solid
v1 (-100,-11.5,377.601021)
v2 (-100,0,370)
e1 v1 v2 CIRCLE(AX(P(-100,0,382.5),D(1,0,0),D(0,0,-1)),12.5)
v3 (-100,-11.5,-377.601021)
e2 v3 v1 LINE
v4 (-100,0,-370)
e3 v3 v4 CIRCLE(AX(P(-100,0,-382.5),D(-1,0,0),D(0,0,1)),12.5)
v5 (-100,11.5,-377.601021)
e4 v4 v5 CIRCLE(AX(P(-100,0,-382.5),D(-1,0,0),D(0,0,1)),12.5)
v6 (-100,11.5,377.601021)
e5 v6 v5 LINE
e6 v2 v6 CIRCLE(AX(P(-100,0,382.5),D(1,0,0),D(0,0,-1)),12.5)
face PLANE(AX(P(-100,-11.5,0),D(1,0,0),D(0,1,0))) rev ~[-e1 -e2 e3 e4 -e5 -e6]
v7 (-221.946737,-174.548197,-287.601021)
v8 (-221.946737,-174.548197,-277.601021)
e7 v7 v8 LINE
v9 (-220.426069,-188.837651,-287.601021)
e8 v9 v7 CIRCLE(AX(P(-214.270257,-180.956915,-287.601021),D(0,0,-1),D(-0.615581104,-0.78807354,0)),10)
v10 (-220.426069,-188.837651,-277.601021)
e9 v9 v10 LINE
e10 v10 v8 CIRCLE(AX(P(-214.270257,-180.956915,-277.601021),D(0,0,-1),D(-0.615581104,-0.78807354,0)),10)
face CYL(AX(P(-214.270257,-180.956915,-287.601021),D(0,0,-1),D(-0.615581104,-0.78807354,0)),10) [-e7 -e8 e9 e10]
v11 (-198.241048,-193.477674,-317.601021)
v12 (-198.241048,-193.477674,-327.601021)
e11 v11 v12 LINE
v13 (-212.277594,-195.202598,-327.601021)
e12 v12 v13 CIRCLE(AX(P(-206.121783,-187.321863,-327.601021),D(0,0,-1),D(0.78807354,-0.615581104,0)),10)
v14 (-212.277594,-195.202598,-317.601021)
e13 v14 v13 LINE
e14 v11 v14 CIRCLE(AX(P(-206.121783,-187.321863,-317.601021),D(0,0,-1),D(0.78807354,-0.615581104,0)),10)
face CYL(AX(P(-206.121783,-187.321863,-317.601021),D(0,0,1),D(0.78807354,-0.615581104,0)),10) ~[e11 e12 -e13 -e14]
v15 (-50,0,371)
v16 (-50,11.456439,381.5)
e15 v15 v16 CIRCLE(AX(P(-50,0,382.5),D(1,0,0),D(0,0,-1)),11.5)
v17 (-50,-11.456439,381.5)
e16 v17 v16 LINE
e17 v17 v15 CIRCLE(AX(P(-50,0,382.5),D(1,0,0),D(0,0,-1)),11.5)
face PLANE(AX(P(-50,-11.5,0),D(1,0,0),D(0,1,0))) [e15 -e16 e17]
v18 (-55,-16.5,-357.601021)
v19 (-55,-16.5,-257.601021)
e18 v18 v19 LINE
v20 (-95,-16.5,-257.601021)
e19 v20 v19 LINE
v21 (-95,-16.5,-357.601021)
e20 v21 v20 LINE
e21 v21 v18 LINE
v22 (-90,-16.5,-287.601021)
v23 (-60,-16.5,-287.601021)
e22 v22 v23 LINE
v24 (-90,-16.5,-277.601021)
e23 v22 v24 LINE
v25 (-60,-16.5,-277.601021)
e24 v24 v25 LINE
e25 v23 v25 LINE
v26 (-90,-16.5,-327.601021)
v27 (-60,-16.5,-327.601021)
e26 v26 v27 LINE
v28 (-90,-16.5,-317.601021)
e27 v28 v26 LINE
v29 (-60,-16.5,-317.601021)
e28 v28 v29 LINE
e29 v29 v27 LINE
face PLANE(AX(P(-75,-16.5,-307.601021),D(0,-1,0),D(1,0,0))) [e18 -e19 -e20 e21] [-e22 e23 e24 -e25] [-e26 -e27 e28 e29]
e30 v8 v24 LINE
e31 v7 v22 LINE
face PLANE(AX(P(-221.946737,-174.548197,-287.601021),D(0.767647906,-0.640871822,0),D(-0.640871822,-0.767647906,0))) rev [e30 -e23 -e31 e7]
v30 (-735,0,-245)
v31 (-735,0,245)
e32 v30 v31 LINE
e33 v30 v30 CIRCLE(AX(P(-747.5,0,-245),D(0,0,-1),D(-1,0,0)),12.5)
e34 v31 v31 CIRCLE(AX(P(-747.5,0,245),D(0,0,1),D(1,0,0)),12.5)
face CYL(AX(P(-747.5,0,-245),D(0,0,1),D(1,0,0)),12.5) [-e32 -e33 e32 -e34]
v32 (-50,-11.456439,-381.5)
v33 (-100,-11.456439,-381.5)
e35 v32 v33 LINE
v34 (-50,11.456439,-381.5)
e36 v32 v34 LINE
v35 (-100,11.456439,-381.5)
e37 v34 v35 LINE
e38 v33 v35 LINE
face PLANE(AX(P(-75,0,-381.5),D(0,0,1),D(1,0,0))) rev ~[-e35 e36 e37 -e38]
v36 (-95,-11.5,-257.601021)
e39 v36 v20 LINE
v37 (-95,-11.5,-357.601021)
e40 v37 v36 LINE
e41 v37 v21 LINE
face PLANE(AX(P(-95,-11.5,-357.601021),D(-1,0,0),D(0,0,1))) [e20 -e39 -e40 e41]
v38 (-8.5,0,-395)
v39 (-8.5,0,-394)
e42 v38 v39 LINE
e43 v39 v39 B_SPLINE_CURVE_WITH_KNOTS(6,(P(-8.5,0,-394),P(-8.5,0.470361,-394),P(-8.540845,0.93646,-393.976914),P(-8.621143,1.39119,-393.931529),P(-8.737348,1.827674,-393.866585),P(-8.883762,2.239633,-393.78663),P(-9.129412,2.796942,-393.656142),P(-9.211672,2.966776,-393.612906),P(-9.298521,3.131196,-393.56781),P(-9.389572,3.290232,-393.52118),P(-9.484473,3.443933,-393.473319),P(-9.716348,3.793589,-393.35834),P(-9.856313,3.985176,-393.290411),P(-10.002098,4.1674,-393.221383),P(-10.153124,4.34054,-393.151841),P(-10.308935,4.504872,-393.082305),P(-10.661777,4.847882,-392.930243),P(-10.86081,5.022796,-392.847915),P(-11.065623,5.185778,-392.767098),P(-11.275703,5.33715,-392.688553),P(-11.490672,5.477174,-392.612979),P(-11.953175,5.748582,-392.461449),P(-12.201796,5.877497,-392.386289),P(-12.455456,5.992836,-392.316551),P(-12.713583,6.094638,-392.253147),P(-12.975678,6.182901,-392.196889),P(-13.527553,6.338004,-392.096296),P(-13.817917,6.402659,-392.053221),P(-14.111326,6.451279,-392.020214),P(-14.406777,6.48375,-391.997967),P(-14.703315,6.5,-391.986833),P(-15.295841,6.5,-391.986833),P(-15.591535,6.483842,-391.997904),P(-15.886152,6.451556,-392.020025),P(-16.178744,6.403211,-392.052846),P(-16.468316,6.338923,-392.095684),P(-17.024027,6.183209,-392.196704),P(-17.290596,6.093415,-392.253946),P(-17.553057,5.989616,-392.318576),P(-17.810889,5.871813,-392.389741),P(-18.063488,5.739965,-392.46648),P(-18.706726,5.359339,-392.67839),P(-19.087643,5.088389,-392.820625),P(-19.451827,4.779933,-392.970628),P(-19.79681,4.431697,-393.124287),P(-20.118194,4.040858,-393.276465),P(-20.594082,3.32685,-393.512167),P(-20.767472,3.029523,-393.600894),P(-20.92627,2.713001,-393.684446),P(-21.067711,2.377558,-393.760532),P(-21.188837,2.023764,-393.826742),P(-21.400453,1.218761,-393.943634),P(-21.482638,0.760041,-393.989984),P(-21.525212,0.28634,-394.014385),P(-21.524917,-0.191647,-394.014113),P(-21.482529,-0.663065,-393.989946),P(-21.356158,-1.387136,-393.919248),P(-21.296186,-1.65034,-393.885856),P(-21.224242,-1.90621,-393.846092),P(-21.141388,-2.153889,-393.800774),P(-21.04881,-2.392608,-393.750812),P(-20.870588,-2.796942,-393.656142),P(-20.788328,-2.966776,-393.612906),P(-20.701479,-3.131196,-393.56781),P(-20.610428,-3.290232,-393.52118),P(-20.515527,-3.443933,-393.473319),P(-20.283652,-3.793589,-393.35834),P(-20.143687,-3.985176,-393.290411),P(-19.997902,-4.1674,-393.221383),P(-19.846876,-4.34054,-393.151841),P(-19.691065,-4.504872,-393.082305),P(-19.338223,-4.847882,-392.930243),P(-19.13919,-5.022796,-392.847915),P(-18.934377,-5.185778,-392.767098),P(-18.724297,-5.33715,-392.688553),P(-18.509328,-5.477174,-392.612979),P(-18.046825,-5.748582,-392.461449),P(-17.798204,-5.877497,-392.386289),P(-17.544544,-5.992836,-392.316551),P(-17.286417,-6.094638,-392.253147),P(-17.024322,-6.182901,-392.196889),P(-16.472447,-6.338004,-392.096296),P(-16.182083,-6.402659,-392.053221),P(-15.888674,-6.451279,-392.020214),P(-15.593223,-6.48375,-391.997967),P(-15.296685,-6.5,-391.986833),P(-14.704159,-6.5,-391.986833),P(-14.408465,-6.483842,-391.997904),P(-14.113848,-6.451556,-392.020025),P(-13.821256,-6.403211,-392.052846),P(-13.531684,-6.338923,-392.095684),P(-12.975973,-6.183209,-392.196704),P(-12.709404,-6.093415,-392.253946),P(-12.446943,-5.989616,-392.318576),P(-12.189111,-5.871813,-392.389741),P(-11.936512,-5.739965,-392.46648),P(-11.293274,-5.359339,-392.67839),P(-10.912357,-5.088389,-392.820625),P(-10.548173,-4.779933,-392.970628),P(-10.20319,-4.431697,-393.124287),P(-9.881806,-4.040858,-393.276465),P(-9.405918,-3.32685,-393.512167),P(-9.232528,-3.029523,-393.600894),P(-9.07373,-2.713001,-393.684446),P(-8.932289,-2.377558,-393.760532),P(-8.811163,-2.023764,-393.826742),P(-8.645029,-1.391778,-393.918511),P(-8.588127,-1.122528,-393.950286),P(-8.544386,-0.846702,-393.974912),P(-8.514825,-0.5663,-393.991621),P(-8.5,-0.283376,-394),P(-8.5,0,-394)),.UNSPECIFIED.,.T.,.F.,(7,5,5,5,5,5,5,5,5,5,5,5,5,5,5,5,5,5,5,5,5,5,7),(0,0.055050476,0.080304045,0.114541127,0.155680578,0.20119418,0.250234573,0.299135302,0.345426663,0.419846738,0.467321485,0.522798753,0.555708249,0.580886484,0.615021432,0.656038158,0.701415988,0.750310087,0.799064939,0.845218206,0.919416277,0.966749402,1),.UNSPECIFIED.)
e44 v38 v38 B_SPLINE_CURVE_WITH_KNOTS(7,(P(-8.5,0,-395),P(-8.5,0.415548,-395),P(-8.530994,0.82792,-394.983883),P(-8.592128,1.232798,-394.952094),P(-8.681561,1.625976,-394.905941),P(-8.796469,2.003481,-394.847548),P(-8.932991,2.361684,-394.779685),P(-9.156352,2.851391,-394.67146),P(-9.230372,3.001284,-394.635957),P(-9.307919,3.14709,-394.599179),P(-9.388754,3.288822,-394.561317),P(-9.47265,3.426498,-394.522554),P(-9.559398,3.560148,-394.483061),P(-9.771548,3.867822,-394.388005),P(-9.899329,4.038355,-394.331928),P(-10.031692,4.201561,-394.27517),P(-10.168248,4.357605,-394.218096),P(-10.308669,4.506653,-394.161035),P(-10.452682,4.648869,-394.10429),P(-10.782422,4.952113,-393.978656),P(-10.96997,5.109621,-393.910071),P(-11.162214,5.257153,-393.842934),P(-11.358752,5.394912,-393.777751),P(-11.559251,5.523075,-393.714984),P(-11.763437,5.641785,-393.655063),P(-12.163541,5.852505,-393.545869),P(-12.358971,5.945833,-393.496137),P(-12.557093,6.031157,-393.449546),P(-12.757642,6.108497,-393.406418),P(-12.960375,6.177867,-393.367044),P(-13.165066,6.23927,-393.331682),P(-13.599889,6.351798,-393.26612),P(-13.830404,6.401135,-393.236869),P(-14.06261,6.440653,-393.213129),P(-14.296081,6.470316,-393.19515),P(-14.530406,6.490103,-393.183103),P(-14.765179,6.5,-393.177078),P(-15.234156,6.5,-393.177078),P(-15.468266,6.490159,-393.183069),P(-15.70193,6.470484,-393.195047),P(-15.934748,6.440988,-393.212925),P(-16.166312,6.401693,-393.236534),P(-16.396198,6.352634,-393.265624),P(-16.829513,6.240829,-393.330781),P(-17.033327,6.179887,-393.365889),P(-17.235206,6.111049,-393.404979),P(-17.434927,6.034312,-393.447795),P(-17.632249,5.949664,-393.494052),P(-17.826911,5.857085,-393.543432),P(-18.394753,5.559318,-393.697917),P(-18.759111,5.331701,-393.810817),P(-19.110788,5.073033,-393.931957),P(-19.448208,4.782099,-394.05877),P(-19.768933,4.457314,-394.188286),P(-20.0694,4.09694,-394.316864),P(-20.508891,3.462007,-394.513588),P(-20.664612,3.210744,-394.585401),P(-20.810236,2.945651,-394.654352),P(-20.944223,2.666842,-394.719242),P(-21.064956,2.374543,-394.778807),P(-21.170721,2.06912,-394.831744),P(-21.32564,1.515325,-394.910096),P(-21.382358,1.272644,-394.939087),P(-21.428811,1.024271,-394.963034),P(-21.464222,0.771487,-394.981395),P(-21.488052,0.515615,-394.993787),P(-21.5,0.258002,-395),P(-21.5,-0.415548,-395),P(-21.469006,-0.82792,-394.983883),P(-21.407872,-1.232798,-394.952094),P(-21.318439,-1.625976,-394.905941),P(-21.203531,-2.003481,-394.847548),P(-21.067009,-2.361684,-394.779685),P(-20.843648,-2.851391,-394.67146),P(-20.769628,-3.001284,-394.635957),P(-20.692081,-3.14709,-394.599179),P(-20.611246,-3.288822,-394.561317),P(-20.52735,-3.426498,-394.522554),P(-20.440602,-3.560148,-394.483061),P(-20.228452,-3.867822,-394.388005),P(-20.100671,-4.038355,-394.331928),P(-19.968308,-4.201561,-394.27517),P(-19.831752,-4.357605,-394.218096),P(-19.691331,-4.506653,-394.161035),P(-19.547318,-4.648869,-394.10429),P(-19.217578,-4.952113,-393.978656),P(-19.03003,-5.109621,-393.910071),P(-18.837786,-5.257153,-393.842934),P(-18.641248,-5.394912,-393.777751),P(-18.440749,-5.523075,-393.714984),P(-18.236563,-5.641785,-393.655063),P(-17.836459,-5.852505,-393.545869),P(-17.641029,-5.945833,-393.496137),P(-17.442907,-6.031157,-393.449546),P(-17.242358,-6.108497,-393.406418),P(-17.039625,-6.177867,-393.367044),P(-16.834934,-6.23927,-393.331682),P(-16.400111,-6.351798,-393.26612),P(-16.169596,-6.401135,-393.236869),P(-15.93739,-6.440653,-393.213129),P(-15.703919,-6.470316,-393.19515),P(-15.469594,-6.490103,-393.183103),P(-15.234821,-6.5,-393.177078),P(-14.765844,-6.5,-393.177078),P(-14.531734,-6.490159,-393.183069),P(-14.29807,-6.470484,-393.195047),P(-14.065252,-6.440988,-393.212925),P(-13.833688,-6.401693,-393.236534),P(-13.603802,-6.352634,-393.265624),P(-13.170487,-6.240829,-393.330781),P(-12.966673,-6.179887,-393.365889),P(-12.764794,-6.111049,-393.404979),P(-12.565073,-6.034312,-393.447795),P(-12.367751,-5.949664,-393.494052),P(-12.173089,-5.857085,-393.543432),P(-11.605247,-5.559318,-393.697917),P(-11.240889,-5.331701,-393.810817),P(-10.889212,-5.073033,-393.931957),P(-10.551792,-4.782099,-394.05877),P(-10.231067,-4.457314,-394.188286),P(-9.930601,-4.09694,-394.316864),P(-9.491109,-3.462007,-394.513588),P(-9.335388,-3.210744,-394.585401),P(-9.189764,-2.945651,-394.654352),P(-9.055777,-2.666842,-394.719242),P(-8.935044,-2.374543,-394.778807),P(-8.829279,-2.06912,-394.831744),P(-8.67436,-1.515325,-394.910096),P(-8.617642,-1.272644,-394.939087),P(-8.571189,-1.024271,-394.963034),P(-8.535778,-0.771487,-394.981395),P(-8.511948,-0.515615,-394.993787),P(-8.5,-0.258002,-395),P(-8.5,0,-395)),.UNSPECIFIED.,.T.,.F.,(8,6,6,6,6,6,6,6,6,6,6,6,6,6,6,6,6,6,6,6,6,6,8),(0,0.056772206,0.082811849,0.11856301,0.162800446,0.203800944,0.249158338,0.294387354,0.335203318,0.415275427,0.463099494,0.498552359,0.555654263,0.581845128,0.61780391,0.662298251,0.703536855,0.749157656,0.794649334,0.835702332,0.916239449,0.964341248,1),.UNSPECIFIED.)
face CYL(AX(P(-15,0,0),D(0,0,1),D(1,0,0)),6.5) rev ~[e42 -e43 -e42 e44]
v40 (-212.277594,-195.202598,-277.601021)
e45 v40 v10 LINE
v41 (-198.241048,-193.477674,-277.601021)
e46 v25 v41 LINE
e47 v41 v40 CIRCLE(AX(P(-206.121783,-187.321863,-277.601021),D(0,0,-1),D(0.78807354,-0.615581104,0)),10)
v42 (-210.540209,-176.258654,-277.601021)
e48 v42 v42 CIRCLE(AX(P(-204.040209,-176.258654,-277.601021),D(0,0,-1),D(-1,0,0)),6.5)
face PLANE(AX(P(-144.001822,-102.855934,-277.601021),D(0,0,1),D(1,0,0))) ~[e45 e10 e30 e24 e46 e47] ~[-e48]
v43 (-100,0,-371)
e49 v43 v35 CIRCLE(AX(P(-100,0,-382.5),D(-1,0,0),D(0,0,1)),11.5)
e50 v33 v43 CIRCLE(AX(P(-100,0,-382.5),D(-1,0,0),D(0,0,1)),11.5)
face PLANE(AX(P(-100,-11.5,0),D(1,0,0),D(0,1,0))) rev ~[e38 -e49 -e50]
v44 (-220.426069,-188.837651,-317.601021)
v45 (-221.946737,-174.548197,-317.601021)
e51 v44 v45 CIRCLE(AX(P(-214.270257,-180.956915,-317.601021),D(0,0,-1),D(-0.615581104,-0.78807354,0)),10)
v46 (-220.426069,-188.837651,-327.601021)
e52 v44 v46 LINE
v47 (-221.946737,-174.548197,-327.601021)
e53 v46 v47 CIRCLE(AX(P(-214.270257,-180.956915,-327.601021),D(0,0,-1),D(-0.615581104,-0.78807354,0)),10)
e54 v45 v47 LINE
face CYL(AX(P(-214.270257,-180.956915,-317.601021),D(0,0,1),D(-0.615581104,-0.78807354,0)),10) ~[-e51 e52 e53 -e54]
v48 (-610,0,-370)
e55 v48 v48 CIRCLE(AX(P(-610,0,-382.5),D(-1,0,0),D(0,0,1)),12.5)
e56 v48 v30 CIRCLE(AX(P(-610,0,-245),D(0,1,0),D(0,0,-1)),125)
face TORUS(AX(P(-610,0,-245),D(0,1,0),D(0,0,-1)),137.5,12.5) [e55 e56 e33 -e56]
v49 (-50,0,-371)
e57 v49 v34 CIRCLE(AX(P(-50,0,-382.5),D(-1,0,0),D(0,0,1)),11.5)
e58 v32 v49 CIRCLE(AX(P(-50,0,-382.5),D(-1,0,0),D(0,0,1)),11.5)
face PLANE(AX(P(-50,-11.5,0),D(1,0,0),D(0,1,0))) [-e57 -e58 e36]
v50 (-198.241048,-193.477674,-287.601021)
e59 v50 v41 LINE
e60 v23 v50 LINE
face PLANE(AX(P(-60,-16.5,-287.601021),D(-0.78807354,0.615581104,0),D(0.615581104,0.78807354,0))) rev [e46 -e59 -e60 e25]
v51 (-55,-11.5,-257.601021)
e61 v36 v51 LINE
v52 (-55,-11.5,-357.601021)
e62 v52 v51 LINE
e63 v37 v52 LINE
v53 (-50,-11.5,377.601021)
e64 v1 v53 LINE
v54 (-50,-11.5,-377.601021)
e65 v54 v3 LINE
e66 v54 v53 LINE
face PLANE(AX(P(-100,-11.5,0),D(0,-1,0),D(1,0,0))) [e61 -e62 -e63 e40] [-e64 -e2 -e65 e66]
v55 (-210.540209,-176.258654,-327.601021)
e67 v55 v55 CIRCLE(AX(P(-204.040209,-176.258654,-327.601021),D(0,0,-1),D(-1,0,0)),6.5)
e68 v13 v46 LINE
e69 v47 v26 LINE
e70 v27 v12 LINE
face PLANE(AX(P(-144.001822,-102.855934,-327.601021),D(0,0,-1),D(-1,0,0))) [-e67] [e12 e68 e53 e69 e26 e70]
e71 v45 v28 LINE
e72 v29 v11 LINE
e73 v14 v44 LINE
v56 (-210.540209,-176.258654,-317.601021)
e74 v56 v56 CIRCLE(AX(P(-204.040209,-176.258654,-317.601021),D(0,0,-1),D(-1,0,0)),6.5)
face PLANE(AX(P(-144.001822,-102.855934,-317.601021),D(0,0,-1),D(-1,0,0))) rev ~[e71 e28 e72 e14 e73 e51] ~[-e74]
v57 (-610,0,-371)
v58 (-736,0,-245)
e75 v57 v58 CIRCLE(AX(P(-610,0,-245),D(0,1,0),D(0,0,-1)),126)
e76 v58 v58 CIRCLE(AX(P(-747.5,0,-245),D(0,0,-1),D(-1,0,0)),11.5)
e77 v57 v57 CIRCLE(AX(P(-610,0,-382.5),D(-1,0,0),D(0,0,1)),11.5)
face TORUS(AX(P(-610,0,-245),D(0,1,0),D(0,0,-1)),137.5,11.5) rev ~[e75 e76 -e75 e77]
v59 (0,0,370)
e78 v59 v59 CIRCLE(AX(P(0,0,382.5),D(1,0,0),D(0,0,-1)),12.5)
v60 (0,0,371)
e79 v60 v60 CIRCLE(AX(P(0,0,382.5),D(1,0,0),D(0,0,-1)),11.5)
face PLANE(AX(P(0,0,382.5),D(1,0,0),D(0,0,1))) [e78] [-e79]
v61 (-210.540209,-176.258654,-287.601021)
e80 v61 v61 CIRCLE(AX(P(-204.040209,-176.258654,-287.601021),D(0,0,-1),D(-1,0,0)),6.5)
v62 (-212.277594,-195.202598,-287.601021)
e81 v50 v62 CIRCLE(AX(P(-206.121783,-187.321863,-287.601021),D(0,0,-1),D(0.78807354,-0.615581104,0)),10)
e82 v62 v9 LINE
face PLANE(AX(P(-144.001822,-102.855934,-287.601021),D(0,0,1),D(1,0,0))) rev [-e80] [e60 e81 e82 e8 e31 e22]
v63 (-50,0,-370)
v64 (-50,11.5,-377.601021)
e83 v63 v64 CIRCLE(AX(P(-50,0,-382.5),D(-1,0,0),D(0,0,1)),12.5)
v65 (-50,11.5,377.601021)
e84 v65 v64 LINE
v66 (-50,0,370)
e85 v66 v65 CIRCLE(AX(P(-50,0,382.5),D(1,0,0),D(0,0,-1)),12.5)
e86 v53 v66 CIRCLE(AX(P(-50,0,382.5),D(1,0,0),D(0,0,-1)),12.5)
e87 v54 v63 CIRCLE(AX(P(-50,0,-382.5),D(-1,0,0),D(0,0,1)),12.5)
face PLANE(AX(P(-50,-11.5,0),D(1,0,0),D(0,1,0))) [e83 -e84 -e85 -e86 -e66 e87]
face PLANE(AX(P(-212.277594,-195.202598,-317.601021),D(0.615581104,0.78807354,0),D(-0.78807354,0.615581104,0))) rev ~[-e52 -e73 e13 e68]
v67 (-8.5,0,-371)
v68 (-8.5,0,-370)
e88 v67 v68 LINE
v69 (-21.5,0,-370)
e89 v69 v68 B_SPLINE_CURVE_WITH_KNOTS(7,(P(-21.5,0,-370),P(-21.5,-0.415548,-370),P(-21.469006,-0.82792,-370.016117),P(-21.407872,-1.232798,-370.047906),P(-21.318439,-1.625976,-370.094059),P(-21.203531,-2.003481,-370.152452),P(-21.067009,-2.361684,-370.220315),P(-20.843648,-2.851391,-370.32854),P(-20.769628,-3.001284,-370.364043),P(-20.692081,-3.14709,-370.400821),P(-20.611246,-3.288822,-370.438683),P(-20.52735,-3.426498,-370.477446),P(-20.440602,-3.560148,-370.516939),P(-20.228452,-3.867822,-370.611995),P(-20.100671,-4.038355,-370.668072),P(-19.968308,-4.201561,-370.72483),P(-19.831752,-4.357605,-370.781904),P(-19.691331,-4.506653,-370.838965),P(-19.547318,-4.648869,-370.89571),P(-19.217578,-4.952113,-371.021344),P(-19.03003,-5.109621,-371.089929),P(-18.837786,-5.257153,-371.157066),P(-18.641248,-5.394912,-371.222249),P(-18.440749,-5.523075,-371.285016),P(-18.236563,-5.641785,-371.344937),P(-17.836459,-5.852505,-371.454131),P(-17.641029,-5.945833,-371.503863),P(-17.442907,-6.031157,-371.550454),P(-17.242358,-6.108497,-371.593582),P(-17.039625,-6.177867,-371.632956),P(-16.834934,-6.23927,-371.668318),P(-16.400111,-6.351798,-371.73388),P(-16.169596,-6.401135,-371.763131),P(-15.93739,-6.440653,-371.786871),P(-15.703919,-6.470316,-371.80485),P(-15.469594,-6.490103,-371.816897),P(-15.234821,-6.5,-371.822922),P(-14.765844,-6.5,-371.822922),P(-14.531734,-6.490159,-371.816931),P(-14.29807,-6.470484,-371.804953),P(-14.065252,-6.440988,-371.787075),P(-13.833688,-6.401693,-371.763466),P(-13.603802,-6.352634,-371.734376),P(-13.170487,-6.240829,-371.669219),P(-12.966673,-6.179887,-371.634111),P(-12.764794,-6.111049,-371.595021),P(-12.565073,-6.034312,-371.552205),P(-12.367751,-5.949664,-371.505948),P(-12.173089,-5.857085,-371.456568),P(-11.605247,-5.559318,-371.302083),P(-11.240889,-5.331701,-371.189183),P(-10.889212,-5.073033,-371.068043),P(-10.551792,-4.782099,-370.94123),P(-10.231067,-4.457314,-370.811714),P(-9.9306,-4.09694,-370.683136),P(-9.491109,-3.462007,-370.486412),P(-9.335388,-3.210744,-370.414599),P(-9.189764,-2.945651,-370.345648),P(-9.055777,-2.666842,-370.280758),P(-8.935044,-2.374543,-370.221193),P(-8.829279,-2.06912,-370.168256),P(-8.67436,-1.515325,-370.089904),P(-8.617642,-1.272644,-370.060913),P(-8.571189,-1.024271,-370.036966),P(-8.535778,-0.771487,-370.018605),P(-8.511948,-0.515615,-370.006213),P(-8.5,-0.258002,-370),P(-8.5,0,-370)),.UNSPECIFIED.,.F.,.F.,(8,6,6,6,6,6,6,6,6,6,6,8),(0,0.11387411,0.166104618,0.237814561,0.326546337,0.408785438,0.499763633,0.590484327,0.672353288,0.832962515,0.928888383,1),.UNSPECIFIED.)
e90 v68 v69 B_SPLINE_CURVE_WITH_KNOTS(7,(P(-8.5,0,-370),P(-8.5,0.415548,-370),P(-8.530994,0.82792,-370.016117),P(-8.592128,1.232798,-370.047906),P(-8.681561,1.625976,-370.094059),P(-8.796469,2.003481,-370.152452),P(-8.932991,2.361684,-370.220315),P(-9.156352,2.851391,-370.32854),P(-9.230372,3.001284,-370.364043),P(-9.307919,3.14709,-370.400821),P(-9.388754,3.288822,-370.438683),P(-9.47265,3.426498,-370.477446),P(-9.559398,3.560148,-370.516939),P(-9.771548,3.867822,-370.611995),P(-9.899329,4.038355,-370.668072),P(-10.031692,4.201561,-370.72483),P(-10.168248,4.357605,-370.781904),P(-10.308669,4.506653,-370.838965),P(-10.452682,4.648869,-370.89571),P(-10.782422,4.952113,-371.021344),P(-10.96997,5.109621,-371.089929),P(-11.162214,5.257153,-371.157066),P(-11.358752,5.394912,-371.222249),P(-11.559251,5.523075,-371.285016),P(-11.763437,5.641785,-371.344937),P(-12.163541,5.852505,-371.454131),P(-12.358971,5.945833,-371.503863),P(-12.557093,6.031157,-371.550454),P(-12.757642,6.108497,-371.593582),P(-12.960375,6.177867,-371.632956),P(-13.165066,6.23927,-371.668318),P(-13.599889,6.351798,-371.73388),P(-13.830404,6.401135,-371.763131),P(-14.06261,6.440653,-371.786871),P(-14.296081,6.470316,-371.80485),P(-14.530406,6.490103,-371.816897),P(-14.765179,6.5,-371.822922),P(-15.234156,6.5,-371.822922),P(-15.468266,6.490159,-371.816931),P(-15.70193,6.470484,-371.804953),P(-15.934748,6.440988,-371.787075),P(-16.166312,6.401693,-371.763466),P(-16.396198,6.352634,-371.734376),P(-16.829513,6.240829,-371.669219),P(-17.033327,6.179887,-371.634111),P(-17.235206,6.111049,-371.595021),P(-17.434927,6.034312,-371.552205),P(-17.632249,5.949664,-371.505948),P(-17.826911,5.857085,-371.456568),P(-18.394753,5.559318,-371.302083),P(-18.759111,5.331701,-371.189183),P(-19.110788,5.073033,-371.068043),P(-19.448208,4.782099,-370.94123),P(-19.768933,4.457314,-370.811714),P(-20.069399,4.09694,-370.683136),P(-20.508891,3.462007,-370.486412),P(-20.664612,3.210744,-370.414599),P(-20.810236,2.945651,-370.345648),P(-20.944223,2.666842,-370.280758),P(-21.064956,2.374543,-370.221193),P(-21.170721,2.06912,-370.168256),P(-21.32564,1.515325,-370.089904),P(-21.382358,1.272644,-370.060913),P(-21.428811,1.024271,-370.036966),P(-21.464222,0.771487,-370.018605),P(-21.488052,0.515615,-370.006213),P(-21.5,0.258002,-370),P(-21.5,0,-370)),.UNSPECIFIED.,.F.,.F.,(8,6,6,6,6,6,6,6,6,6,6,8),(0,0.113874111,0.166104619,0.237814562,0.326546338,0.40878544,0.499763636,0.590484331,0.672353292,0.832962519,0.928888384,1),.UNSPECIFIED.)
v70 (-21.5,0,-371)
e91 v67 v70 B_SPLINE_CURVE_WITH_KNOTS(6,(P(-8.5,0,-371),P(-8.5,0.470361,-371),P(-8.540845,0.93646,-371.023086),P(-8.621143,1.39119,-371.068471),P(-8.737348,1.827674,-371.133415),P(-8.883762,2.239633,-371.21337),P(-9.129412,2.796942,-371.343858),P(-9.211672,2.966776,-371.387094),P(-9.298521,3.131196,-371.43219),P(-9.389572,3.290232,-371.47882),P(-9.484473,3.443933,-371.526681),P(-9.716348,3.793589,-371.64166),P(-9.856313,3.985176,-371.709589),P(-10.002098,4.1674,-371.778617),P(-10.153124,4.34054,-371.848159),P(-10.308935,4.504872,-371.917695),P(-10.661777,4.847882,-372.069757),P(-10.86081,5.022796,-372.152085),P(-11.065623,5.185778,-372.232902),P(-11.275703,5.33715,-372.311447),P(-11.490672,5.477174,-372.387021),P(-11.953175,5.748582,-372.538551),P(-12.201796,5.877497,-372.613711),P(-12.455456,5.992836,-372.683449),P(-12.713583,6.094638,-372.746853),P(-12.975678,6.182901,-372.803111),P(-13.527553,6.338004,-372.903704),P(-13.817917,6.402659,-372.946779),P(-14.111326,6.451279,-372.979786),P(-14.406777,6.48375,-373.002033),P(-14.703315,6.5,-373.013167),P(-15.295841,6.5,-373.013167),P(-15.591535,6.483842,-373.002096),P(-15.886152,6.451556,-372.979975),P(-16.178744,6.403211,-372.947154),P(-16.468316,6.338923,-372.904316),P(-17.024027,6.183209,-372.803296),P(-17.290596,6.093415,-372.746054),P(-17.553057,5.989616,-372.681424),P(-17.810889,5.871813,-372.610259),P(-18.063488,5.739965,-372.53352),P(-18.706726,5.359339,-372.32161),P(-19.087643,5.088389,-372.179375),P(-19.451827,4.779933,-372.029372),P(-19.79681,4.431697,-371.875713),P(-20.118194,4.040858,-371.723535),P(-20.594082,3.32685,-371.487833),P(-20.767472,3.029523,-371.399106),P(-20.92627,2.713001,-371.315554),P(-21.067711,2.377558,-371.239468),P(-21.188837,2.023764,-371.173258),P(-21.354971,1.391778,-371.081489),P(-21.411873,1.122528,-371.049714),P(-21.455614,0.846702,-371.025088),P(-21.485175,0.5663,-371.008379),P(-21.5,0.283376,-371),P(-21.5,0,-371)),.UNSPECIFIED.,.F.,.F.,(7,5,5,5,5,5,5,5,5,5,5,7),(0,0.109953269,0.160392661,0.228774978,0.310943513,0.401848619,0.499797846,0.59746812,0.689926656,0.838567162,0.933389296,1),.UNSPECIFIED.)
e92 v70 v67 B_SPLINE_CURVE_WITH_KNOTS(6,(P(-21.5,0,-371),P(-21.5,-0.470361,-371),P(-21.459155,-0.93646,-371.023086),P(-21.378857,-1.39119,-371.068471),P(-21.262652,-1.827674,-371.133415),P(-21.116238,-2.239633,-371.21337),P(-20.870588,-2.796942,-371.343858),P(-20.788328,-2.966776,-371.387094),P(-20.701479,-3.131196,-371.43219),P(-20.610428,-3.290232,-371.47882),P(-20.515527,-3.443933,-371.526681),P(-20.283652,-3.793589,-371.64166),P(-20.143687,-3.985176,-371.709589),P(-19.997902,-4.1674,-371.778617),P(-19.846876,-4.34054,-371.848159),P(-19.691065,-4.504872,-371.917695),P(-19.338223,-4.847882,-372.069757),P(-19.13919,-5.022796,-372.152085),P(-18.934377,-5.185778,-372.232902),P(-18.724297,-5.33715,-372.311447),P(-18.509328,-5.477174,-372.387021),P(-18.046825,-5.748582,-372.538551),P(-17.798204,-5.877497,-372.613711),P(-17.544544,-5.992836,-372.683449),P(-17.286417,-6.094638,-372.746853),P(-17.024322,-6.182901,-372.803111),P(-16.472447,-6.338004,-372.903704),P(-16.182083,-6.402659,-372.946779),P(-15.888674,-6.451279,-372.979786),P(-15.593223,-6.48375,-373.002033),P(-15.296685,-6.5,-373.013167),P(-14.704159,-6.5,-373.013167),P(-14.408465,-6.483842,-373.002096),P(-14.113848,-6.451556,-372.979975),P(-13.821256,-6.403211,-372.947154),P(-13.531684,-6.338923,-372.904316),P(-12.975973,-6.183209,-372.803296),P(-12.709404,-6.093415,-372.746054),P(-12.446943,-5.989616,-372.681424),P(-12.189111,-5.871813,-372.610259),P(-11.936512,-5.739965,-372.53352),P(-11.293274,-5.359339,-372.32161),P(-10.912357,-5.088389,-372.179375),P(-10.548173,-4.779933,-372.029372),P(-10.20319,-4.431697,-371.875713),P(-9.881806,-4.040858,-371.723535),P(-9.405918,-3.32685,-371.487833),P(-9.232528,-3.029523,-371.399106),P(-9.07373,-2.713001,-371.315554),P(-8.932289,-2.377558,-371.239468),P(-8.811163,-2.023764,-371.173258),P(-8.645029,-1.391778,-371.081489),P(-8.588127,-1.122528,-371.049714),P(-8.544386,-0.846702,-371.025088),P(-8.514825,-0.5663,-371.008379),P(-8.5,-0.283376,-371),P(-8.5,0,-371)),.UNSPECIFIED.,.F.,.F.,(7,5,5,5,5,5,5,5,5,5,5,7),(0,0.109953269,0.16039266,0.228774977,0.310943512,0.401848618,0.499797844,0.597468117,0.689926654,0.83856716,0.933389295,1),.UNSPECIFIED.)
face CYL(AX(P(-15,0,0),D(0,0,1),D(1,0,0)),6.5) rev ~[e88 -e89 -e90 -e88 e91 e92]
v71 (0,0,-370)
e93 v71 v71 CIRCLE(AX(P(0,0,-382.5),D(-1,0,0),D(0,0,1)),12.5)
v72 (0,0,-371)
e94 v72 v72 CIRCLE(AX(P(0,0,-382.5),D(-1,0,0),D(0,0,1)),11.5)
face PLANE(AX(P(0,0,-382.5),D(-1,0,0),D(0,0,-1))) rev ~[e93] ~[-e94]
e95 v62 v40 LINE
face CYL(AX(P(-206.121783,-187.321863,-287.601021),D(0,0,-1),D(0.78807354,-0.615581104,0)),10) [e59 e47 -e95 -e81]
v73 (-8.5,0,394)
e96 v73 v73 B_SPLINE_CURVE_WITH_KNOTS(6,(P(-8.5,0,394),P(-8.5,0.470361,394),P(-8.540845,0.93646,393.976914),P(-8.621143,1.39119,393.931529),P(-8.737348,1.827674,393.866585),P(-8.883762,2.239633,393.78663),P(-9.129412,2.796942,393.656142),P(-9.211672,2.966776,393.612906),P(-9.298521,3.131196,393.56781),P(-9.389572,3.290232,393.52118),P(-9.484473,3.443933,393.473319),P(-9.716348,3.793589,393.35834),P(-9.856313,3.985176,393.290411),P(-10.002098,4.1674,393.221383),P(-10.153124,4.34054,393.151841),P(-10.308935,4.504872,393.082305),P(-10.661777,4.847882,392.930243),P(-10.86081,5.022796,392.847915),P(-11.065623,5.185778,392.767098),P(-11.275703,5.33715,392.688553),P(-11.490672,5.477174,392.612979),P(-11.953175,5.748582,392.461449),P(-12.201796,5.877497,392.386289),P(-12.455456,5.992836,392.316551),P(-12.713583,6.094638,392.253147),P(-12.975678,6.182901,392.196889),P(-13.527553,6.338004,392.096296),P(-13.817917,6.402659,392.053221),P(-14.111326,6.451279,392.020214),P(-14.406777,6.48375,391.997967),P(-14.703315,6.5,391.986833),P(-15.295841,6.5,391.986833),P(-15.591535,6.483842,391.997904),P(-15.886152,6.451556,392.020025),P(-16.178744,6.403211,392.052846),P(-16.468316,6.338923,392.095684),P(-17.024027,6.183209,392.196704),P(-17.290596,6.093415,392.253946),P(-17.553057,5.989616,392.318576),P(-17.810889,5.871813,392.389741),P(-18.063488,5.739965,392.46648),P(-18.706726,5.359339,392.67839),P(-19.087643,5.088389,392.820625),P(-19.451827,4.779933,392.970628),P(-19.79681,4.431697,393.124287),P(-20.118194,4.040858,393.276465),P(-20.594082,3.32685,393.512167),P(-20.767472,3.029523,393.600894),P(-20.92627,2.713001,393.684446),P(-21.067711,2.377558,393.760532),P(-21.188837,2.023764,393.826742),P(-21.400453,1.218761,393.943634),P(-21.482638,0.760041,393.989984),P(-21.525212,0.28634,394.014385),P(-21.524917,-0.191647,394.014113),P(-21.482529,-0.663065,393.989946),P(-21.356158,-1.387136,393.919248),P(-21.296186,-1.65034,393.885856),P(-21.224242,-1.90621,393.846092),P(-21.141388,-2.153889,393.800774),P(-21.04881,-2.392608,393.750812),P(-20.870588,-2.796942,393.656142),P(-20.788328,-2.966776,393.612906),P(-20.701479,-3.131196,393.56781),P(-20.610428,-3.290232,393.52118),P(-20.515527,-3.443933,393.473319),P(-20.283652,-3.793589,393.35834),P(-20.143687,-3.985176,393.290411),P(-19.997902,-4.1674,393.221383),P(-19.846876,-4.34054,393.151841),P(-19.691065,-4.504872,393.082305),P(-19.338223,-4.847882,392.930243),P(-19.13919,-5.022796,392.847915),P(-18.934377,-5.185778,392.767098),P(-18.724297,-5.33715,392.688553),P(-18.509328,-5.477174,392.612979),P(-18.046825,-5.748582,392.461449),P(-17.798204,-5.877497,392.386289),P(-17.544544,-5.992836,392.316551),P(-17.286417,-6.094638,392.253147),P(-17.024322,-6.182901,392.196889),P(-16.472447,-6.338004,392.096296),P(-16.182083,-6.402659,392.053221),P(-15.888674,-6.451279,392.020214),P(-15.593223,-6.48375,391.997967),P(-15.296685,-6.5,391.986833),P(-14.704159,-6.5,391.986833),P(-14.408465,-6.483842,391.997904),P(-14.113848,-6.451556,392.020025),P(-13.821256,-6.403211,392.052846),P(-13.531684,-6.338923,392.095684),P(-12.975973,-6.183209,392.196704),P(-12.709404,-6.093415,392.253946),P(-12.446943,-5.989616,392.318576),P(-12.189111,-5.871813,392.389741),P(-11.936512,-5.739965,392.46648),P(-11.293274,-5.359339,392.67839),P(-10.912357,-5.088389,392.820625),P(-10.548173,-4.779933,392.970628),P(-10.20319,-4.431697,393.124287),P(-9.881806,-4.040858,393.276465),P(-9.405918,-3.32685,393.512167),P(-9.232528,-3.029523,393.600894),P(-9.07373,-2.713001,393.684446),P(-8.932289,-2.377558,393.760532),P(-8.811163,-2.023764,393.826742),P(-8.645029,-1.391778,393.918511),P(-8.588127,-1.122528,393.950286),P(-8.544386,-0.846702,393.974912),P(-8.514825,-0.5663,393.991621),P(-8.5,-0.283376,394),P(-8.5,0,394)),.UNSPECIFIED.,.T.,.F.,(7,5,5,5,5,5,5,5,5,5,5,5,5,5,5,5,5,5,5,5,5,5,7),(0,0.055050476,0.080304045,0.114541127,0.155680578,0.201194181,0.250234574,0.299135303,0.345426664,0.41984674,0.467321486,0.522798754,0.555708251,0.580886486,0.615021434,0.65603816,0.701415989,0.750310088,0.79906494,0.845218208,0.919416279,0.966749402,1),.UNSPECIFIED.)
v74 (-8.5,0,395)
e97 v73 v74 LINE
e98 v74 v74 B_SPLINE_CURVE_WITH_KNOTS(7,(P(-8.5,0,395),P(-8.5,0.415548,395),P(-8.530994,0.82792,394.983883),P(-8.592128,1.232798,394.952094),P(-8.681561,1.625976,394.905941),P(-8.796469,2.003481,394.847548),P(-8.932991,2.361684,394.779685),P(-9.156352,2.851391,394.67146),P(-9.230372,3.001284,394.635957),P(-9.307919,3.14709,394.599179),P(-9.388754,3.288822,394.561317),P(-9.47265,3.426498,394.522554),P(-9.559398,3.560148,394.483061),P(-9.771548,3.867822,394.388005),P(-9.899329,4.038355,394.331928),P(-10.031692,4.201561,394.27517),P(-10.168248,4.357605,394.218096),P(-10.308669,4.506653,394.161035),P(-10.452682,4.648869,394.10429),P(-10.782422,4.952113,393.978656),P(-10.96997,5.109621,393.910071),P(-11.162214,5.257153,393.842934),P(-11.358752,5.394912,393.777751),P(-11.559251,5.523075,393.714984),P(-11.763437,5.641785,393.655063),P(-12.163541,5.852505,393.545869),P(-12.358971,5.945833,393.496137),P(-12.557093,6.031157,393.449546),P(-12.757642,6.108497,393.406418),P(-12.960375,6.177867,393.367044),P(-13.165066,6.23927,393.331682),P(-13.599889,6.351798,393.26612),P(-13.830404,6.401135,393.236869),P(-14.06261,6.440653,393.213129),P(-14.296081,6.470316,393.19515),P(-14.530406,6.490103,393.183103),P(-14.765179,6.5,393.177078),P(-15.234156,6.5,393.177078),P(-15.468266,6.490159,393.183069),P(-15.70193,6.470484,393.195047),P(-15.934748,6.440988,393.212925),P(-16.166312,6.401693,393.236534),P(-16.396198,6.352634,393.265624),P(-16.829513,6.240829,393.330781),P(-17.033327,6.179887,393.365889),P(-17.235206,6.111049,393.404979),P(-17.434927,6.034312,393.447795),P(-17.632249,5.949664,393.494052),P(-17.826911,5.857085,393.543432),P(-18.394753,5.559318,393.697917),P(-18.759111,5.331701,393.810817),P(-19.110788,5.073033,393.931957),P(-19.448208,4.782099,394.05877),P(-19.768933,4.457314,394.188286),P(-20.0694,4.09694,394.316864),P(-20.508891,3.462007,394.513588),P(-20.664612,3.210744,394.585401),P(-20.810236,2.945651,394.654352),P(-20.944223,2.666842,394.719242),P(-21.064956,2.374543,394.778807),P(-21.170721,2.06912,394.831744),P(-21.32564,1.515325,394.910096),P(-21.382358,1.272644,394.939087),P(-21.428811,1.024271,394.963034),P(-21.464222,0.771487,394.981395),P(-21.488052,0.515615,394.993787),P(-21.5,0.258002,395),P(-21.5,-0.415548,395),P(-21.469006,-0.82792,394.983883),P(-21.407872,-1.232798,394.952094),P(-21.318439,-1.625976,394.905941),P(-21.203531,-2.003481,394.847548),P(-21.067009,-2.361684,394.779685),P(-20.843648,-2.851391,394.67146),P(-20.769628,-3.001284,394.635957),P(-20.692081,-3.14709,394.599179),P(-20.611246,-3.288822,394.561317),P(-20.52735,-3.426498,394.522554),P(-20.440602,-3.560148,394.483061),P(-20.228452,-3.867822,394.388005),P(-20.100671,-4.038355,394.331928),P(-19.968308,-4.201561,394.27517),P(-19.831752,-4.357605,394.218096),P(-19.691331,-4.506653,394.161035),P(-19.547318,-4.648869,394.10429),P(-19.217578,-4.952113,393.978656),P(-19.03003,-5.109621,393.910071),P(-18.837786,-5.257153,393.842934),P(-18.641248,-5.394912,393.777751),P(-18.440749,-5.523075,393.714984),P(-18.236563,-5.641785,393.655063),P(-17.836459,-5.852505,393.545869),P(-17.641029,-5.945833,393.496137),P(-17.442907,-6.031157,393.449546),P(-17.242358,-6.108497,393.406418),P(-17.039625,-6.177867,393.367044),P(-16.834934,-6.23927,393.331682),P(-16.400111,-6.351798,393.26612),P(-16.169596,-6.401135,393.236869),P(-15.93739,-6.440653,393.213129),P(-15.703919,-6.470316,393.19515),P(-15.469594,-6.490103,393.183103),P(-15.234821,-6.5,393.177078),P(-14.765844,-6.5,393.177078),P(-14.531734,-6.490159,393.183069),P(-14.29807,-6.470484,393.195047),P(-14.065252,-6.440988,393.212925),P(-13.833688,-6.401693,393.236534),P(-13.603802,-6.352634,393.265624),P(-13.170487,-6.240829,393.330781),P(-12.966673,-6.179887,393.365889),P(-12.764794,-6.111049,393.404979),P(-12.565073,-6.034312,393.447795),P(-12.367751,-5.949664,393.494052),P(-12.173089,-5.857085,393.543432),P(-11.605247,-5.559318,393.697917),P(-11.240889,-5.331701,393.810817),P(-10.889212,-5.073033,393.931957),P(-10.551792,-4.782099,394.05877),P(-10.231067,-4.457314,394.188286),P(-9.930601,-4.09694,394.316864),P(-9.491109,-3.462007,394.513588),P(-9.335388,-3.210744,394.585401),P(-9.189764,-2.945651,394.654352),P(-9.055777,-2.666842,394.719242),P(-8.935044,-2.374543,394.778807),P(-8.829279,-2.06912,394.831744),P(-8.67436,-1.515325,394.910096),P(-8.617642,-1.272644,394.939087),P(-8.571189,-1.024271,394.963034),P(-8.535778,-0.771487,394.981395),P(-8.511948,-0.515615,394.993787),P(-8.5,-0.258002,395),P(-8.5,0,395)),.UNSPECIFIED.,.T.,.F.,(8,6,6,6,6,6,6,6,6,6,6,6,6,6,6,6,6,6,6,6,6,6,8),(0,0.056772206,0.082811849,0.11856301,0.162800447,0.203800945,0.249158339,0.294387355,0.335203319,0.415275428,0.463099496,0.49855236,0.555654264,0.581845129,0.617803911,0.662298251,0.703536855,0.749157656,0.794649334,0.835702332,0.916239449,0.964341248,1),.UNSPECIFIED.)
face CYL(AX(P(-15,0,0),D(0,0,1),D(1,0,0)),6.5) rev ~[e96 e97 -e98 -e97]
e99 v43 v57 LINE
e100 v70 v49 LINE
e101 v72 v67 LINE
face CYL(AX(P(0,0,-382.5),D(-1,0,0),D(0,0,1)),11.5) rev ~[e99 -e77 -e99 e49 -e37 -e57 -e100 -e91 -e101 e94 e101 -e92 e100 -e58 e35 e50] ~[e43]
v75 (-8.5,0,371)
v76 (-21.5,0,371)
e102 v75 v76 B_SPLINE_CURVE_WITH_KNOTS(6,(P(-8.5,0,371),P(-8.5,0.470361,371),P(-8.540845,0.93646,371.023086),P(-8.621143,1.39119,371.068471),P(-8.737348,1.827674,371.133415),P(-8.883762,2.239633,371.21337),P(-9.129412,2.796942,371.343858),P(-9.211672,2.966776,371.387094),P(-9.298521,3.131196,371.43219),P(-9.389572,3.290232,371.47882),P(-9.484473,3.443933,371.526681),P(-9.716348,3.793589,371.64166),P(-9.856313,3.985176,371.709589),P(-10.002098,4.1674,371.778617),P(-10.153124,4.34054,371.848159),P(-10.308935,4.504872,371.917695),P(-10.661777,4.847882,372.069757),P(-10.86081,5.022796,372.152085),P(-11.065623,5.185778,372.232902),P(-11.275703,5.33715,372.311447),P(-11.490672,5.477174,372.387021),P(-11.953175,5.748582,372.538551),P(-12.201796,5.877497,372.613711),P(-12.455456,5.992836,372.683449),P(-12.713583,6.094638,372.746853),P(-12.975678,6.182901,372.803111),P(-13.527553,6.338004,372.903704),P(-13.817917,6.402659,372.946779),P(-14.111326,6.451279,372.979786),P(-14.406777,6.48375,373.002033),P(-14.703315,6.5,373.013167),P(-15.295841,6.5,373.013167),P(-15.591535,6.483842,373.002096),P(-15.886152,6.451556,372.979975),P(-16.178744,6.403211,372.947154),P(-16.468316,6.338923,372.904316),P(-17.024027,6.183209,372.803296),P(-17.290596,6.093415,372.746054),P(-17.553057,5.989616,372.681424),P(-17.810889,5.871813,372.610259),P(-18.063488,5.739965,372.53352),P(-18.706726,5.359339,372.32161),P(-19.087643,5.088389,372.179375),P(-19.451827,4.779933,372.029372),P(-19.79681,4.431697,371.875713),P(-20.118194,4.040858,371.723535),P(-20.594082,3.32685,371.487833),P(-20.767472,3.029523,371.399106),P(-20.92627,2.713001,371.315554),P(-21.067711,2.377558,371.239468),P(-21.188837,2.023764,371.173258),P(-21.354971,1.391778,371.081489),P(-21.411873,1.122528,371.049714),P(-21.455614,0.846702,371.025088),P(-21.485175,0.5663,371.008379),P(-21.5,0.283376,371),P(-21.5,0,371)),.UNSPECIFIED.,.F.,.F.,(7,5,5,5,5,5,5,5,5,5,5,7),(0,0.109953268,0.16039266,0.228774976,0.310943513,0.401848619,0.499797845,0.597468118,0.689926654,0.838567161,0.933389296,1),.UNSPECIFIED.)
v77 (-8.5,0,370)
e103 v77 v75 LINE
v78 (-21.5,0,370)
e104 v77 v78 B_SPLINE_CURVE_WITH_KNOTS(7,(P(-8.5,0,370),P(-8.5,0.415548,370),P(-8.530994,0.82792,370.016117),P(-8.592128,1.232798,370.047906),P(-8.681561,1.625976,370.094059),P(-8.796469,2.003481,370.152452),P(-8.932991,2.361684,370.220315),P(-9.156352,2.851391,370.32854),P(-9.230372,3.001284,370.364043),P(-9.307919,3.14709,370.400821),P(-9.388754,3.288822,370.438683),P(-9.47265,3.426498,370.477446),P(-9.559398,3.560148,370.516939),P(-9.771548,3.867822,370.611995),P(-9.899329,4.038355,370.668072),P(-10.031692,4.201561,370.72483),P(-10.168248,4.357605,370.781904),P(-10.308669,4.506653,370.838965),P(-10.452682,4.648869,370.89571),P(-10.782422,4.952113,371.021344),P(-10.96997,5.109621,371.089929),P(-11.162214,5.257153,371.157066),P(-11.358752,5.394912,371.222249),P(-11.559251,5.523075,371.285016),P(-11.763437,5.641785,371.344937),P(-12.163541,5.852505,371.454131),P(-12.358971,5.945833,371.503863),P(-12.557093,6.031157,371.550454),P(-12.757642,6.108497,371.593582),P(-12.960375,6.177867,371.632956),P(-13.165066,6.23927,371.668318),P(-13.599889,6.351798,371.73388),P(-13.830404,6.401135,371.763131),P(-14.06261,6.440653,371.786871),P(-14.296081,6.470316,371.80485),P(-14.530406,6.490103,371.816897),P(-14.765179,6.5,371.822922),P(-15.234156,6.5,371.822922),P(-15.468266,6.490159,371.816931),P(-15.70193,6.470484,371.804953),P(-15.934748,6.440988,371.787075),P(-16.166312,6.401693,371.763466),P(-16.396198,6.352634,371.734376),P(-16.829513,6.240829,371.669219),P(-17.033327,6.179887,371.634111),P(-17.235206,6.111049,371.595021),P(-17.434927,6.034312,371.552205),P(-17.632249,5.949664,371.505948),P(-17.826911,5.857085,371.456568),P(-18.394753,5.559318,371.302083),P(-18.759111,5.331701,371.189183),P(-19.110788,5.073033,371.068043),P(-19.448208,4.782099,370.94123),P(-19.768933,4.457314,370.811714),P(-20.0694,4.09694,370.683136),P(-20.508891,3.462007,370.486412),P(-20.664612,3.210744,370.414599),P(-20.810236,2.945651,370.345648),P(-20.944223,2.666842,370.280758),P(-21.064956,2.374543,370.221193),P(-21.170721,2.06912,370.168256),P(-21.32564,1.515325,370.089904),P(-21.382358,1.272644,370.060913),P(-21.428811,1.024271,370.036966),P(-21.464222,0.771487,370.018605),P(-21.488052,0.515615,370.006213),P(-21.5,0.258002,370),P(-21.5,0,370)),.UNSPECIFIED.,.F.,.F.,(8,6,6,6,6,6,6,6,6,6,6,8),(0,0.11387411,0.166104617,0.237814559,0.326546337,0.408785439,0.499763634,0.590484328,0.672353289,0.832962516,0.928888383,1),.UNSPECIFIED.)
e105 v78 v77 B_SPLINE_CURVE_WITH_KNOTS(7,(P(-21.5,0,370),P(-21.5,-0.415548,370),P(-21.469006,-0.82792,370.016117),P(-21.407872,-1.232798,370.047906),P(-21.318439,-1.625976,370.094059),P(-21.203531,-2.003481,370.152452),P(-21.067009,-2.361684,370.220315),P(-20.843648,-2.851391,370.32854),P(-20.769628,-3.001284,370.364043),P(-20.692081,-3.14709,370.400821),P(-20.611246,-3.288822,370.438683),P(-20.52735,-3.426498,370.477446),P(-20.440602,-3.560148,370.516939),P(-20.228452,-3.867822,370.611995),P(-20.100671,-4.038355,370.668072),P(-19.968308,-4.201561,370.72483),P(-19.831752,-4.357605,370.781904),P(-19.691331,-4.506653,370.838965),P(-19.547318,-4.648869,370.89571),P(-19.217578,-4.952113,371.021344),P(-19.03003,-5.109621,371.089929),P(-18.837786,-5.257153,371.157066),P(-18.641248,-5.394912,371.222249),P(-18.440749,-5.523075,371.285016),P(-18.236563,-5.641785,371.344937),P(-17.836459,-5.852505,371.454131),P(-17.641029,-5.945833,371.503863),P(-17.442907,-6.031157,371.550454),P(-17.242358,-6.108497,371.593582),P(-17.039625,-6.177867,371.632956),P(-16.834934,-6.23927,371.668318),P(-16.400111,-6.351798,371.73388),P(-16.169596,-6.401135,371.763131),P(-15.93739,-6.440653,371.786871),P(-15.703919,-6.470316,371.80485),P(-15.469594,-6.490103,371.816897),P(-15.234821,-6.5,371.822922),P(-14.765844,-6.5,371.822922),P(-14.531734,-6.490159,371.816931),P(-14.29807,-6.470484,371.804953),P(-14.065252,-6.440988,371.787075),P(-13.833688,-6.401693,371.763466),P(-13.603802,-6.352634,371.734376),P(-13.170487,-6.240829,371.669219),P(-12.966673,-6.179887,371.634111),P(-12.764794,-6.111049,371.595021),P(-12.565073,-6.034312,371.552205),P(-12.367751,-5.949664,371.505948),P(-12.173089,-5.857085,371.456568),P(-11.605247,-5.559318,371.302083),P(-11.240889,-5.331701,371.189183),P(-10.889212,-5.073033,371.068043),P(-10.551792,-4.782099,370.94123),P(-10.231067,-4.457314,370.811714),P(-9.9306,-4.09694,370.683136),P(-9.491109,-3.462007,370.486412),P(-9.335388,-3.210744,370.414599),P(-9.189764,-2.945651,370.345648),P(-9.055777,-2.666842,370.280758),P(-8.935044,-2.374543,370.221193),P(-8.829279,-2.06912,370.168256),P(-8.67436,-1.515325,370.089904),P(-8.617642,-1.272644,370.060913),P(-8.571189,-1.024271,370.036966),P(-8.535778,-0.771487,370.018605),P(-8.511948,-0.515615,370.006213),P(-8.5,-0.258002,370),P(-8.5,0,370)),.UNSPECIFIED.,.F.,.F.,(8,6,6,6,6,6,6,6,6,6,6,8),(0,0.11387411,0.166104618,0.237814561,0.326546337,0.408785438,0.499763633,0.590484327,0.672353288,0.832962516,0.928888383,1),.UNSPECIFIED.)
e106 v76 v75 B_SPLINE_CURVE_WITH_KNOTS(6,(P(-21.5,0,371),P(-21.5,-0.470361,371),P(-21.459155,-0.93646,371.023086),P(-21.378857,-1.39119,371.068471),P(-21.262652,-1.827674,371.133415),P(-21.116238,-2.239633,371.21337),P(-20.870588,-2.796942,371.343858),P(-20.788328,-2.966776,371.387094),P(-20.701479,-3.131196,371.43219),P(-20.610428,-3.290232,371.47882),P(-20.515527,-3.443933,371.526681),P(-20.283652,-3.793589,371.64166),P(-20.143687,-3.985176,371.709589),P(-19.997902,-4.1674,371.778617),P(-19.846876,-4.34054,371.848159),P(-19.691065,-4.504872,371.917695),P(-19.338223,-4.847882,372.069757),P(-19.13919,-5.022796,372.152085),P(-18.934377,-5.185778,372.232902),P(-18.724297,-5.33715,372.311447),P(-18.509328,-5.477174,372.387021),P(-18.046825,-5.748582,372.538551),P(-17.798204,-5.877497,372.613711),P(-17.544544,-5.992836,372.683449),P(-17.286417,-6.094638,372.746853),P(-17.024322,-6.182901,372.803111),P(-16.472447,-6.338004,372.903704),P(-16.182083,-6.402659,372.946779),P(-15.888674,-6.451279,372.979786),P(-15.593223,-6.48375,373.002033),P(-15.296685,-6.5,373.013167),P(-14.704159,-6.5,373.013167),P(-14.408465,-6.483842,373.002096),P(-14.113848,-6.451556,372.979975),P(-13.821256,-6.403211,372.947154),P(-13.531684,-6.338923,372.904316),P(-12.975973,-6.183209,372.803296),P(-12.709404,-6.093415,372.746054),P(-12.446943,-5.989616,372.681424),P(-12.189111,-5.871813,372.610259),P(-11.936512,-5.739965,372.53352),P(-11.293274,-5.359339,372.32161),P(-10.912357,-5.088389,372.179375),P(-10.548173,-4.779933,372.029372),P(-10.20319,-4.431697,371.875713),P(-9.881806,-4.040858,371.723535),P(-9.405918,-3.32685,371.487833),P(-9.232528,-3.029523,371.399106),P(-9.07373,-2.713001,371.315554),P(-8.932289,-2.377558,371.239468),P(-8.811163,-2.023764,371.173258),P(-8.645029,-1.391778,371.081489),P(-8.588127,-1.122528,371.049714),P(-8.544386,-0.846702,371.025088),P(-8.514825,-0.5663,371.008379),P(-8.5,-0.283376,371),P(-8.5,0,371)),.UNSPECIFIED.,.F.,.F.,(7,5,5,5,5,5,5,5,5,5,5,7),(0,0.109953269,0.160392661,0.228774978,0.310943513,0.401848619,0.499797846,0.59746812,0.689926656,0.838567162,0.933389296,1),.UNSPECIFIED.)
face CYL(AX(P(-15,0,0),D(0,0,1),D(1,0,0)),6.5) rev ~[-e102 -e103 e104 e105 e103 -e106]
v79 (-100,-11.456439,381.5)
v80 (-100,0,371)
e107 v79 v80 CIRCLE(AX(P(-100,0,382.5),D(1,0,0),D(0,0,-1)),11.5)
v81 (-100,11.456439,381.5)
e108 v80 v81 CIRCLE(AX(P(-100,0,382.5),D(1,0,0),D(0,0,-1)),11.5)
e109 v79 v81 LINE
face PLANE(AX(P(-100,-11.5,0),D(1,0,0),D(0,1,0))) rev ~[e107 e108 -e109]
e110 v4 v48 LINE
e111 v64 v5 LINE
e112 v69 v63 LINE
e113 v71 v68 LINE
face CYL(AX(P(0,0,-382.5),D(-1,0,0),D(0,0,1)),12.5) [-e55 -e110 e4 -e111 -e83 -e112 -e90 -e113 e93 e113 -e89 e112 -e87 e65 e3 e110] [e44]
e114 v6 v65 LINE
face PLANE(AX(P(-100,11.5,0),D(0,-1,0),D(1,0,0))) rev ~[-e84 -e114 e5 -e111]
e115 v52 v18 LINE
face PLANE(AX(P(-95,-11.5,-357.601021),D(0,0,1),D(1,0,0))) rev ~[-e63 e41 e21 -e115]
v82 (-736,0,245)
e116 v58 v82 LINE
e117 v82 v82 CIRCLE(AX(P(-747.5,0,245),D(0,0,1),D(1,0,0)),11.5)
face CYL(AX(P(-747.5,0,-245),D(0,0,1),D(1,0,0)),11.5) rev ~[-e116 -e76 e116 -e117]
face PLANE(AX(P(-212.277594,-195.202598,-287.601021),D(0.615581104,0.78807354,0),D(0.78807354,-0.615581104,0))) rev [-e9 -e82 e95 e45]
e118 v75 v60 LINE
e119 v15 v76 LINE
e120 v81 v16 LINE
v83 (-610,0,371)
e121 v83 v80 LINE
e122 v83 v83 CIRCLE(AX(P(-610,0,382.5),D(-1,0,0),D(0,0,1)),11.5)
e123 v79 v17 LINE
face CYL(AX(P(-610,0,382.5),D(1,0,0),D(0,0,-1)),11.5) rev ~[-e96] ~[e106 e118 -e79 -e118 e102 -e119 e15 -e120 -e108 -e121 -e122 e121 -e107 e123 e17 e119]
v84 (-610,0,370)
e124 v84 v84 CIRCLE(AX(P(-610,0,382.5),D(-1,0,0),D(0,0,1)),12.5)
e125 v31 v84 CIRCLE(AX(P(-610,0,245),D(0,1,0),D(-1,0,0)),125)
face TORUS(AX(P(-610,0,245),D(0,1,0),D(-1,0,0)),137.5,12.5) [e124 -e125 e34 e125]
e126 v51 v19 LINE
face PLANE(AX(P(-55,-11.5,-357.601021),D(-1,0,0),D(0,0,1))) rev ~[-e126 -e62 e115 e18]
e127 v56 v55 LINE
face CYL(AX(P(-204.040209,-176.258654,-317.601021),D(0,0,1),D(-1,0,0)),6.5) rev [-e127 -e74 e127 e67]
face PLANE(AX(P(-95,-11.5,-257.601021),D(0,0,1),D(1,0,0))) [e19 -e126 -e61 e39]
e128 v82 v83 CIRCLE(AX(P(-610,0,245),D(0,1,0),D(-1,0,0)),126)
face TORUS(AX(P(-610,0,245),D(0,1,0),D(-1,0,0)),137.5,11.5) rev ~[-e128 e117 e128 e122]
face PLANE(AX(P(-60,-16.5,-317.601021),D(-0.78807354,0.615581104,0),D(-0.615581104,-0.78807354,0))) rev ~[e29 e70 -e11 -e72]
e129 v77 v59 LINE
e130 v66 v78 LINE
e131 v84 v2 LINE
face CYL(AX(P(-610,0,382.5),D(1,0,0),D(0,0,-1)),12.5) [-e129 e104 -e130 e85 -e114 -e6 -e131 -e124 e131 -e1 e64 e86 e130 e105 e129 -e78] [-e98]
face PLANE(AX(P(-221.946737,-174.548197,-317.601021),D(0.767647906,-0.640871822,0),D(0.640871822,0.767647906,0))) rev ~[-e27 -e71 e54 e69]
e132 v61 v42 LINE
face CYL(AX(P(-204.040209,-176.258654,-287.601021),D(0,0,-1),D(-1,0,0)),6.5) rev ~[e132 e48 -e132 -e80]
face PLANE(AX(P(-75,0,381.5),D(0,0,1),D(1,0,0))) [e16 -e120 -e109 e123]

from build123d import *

# Parameters (mm, degrees)
SKETCH2_R           = 12.5
SKETCH2_R_2         = 11.5
SKETCH14_W          = 50
SKETCH14_H          = 23
BOSS_EXTRUDE1_DEPTH = 381.5
SKETCH15_R          = 6.5
CUT_EXTRUDE1_DEPTH  = 436.5
SKETCH16_W          = 40
SKETCH16_H          = 100
BOSS_EXTRUDE2_DEPTH = 5
SKETCH18_R          = 6.5
BOSS_EXTRUDE3_DEPTH = 10


with BuildPart() as part:
    # Sweep-Thin1: sweep along a path in Sketch1
    with BuildLine(Plane(origin=(0, 0, 0), x_dir=(1, 0, 0), z_dir=(0, 1, 0))) as sweep_thin1_path:
        Line((0, 395), (-610, 395))
        ThreePointArc((-610, 395), (-716.066017178, 351.066017178), (-760, 245))
        Line((-760, 245), (-760, -245))
        ThreePointArc((-760, -245), (-716.066017178, -351.066017178), (-610, -395))
        Line((-610, -395), (0, -395))
    # Sketch2 → Sweep-Thin1 (sweep)
    with BuildSketch(Plane(origin=(0, 0, 395), x_dir=(0, 0, -1), z_dir=(1, 0, 0))):
        with Locations((12.5, 0)):
            Circle(SKETCH2_R)
        with Locations((12.5, 0)):
            Circle(SKETCH2_R_2, mode=Mode.SUBTRACT)
    sweep(path=sweep_thin1_path.line)

    # Sketch14 → Boss-Extrude1 (add, symmetric)
    with BuildSketch(Plane.XY):
        with Locations((-75, 0)):
            Rectangle(SKETCH14_W, SKETCH14_H)
    extrude(amount=BOSS_EXTRUDE1_DEPTH, both=True)

    # Sketch15 → Cut-Extrude1 (cut, symmetric)
    with BuildSketch(Plane.XY):
        with Locations((-15, 0)):
            Circle(SKETCH15_R)
    extrude(amount=CUT_EXTRUDE1_DEPTH, both=True, mode=Mode.SUBTRACT)

    # Sketch16 → Boss-Extrude2 (add)
    with BuildSketch(Plane.XZ.offset(11.5)):
        with Locations((-75, -307.601020514)):
            Rectangle(SKETCH16_W, SKETCH16_H)
    extrude(amount=BOSS_EXTRUDE2_DEPTH)

    # Sketch18 → Boss-Extrude3 (add)
    with BuildSketch(Plane(origin=(0, 0, -317.601020514), x_dir=(-1, 0, 0), z_dir=(0, 0, -1))):
        with BuildLine():
            Line((90, -16.5), (60, -16.5))
            Line((60, -16.5), (198.241047903, -193.477674036))
            ThreePointArc((198.241047903, -193.477674036), (204.902077591, -197.247200167), (212.277594342, -195.202598394))
            Line((212.277594342, -195.202598394), (220.426068509, -188.837650874))
            ThreePointArc((220.426068509, -188.837650874), (224.214109013, -182.01512928), (221.946736533, -174.548197259))
            Line((221.946736533, -174.548197259), (90, -16.5))
        make_face()
        with Locations((204.040209344, -176.258653836)):
            Circle(SKETCH18_R, mode=Mode.SUBTRACT)
    boss_extrude3 = extrude(amount=BOSS_EXTRUDE3_DEPTH)

    # Mirror1: Boss-Extrude3 across plane
    add(boss_extrude3.mirror(Plane(origin=(0, 0, -302.601020514), x_dir=(1, 0, 0), z_dir=(0, 0, -1))))


solid = part.part
